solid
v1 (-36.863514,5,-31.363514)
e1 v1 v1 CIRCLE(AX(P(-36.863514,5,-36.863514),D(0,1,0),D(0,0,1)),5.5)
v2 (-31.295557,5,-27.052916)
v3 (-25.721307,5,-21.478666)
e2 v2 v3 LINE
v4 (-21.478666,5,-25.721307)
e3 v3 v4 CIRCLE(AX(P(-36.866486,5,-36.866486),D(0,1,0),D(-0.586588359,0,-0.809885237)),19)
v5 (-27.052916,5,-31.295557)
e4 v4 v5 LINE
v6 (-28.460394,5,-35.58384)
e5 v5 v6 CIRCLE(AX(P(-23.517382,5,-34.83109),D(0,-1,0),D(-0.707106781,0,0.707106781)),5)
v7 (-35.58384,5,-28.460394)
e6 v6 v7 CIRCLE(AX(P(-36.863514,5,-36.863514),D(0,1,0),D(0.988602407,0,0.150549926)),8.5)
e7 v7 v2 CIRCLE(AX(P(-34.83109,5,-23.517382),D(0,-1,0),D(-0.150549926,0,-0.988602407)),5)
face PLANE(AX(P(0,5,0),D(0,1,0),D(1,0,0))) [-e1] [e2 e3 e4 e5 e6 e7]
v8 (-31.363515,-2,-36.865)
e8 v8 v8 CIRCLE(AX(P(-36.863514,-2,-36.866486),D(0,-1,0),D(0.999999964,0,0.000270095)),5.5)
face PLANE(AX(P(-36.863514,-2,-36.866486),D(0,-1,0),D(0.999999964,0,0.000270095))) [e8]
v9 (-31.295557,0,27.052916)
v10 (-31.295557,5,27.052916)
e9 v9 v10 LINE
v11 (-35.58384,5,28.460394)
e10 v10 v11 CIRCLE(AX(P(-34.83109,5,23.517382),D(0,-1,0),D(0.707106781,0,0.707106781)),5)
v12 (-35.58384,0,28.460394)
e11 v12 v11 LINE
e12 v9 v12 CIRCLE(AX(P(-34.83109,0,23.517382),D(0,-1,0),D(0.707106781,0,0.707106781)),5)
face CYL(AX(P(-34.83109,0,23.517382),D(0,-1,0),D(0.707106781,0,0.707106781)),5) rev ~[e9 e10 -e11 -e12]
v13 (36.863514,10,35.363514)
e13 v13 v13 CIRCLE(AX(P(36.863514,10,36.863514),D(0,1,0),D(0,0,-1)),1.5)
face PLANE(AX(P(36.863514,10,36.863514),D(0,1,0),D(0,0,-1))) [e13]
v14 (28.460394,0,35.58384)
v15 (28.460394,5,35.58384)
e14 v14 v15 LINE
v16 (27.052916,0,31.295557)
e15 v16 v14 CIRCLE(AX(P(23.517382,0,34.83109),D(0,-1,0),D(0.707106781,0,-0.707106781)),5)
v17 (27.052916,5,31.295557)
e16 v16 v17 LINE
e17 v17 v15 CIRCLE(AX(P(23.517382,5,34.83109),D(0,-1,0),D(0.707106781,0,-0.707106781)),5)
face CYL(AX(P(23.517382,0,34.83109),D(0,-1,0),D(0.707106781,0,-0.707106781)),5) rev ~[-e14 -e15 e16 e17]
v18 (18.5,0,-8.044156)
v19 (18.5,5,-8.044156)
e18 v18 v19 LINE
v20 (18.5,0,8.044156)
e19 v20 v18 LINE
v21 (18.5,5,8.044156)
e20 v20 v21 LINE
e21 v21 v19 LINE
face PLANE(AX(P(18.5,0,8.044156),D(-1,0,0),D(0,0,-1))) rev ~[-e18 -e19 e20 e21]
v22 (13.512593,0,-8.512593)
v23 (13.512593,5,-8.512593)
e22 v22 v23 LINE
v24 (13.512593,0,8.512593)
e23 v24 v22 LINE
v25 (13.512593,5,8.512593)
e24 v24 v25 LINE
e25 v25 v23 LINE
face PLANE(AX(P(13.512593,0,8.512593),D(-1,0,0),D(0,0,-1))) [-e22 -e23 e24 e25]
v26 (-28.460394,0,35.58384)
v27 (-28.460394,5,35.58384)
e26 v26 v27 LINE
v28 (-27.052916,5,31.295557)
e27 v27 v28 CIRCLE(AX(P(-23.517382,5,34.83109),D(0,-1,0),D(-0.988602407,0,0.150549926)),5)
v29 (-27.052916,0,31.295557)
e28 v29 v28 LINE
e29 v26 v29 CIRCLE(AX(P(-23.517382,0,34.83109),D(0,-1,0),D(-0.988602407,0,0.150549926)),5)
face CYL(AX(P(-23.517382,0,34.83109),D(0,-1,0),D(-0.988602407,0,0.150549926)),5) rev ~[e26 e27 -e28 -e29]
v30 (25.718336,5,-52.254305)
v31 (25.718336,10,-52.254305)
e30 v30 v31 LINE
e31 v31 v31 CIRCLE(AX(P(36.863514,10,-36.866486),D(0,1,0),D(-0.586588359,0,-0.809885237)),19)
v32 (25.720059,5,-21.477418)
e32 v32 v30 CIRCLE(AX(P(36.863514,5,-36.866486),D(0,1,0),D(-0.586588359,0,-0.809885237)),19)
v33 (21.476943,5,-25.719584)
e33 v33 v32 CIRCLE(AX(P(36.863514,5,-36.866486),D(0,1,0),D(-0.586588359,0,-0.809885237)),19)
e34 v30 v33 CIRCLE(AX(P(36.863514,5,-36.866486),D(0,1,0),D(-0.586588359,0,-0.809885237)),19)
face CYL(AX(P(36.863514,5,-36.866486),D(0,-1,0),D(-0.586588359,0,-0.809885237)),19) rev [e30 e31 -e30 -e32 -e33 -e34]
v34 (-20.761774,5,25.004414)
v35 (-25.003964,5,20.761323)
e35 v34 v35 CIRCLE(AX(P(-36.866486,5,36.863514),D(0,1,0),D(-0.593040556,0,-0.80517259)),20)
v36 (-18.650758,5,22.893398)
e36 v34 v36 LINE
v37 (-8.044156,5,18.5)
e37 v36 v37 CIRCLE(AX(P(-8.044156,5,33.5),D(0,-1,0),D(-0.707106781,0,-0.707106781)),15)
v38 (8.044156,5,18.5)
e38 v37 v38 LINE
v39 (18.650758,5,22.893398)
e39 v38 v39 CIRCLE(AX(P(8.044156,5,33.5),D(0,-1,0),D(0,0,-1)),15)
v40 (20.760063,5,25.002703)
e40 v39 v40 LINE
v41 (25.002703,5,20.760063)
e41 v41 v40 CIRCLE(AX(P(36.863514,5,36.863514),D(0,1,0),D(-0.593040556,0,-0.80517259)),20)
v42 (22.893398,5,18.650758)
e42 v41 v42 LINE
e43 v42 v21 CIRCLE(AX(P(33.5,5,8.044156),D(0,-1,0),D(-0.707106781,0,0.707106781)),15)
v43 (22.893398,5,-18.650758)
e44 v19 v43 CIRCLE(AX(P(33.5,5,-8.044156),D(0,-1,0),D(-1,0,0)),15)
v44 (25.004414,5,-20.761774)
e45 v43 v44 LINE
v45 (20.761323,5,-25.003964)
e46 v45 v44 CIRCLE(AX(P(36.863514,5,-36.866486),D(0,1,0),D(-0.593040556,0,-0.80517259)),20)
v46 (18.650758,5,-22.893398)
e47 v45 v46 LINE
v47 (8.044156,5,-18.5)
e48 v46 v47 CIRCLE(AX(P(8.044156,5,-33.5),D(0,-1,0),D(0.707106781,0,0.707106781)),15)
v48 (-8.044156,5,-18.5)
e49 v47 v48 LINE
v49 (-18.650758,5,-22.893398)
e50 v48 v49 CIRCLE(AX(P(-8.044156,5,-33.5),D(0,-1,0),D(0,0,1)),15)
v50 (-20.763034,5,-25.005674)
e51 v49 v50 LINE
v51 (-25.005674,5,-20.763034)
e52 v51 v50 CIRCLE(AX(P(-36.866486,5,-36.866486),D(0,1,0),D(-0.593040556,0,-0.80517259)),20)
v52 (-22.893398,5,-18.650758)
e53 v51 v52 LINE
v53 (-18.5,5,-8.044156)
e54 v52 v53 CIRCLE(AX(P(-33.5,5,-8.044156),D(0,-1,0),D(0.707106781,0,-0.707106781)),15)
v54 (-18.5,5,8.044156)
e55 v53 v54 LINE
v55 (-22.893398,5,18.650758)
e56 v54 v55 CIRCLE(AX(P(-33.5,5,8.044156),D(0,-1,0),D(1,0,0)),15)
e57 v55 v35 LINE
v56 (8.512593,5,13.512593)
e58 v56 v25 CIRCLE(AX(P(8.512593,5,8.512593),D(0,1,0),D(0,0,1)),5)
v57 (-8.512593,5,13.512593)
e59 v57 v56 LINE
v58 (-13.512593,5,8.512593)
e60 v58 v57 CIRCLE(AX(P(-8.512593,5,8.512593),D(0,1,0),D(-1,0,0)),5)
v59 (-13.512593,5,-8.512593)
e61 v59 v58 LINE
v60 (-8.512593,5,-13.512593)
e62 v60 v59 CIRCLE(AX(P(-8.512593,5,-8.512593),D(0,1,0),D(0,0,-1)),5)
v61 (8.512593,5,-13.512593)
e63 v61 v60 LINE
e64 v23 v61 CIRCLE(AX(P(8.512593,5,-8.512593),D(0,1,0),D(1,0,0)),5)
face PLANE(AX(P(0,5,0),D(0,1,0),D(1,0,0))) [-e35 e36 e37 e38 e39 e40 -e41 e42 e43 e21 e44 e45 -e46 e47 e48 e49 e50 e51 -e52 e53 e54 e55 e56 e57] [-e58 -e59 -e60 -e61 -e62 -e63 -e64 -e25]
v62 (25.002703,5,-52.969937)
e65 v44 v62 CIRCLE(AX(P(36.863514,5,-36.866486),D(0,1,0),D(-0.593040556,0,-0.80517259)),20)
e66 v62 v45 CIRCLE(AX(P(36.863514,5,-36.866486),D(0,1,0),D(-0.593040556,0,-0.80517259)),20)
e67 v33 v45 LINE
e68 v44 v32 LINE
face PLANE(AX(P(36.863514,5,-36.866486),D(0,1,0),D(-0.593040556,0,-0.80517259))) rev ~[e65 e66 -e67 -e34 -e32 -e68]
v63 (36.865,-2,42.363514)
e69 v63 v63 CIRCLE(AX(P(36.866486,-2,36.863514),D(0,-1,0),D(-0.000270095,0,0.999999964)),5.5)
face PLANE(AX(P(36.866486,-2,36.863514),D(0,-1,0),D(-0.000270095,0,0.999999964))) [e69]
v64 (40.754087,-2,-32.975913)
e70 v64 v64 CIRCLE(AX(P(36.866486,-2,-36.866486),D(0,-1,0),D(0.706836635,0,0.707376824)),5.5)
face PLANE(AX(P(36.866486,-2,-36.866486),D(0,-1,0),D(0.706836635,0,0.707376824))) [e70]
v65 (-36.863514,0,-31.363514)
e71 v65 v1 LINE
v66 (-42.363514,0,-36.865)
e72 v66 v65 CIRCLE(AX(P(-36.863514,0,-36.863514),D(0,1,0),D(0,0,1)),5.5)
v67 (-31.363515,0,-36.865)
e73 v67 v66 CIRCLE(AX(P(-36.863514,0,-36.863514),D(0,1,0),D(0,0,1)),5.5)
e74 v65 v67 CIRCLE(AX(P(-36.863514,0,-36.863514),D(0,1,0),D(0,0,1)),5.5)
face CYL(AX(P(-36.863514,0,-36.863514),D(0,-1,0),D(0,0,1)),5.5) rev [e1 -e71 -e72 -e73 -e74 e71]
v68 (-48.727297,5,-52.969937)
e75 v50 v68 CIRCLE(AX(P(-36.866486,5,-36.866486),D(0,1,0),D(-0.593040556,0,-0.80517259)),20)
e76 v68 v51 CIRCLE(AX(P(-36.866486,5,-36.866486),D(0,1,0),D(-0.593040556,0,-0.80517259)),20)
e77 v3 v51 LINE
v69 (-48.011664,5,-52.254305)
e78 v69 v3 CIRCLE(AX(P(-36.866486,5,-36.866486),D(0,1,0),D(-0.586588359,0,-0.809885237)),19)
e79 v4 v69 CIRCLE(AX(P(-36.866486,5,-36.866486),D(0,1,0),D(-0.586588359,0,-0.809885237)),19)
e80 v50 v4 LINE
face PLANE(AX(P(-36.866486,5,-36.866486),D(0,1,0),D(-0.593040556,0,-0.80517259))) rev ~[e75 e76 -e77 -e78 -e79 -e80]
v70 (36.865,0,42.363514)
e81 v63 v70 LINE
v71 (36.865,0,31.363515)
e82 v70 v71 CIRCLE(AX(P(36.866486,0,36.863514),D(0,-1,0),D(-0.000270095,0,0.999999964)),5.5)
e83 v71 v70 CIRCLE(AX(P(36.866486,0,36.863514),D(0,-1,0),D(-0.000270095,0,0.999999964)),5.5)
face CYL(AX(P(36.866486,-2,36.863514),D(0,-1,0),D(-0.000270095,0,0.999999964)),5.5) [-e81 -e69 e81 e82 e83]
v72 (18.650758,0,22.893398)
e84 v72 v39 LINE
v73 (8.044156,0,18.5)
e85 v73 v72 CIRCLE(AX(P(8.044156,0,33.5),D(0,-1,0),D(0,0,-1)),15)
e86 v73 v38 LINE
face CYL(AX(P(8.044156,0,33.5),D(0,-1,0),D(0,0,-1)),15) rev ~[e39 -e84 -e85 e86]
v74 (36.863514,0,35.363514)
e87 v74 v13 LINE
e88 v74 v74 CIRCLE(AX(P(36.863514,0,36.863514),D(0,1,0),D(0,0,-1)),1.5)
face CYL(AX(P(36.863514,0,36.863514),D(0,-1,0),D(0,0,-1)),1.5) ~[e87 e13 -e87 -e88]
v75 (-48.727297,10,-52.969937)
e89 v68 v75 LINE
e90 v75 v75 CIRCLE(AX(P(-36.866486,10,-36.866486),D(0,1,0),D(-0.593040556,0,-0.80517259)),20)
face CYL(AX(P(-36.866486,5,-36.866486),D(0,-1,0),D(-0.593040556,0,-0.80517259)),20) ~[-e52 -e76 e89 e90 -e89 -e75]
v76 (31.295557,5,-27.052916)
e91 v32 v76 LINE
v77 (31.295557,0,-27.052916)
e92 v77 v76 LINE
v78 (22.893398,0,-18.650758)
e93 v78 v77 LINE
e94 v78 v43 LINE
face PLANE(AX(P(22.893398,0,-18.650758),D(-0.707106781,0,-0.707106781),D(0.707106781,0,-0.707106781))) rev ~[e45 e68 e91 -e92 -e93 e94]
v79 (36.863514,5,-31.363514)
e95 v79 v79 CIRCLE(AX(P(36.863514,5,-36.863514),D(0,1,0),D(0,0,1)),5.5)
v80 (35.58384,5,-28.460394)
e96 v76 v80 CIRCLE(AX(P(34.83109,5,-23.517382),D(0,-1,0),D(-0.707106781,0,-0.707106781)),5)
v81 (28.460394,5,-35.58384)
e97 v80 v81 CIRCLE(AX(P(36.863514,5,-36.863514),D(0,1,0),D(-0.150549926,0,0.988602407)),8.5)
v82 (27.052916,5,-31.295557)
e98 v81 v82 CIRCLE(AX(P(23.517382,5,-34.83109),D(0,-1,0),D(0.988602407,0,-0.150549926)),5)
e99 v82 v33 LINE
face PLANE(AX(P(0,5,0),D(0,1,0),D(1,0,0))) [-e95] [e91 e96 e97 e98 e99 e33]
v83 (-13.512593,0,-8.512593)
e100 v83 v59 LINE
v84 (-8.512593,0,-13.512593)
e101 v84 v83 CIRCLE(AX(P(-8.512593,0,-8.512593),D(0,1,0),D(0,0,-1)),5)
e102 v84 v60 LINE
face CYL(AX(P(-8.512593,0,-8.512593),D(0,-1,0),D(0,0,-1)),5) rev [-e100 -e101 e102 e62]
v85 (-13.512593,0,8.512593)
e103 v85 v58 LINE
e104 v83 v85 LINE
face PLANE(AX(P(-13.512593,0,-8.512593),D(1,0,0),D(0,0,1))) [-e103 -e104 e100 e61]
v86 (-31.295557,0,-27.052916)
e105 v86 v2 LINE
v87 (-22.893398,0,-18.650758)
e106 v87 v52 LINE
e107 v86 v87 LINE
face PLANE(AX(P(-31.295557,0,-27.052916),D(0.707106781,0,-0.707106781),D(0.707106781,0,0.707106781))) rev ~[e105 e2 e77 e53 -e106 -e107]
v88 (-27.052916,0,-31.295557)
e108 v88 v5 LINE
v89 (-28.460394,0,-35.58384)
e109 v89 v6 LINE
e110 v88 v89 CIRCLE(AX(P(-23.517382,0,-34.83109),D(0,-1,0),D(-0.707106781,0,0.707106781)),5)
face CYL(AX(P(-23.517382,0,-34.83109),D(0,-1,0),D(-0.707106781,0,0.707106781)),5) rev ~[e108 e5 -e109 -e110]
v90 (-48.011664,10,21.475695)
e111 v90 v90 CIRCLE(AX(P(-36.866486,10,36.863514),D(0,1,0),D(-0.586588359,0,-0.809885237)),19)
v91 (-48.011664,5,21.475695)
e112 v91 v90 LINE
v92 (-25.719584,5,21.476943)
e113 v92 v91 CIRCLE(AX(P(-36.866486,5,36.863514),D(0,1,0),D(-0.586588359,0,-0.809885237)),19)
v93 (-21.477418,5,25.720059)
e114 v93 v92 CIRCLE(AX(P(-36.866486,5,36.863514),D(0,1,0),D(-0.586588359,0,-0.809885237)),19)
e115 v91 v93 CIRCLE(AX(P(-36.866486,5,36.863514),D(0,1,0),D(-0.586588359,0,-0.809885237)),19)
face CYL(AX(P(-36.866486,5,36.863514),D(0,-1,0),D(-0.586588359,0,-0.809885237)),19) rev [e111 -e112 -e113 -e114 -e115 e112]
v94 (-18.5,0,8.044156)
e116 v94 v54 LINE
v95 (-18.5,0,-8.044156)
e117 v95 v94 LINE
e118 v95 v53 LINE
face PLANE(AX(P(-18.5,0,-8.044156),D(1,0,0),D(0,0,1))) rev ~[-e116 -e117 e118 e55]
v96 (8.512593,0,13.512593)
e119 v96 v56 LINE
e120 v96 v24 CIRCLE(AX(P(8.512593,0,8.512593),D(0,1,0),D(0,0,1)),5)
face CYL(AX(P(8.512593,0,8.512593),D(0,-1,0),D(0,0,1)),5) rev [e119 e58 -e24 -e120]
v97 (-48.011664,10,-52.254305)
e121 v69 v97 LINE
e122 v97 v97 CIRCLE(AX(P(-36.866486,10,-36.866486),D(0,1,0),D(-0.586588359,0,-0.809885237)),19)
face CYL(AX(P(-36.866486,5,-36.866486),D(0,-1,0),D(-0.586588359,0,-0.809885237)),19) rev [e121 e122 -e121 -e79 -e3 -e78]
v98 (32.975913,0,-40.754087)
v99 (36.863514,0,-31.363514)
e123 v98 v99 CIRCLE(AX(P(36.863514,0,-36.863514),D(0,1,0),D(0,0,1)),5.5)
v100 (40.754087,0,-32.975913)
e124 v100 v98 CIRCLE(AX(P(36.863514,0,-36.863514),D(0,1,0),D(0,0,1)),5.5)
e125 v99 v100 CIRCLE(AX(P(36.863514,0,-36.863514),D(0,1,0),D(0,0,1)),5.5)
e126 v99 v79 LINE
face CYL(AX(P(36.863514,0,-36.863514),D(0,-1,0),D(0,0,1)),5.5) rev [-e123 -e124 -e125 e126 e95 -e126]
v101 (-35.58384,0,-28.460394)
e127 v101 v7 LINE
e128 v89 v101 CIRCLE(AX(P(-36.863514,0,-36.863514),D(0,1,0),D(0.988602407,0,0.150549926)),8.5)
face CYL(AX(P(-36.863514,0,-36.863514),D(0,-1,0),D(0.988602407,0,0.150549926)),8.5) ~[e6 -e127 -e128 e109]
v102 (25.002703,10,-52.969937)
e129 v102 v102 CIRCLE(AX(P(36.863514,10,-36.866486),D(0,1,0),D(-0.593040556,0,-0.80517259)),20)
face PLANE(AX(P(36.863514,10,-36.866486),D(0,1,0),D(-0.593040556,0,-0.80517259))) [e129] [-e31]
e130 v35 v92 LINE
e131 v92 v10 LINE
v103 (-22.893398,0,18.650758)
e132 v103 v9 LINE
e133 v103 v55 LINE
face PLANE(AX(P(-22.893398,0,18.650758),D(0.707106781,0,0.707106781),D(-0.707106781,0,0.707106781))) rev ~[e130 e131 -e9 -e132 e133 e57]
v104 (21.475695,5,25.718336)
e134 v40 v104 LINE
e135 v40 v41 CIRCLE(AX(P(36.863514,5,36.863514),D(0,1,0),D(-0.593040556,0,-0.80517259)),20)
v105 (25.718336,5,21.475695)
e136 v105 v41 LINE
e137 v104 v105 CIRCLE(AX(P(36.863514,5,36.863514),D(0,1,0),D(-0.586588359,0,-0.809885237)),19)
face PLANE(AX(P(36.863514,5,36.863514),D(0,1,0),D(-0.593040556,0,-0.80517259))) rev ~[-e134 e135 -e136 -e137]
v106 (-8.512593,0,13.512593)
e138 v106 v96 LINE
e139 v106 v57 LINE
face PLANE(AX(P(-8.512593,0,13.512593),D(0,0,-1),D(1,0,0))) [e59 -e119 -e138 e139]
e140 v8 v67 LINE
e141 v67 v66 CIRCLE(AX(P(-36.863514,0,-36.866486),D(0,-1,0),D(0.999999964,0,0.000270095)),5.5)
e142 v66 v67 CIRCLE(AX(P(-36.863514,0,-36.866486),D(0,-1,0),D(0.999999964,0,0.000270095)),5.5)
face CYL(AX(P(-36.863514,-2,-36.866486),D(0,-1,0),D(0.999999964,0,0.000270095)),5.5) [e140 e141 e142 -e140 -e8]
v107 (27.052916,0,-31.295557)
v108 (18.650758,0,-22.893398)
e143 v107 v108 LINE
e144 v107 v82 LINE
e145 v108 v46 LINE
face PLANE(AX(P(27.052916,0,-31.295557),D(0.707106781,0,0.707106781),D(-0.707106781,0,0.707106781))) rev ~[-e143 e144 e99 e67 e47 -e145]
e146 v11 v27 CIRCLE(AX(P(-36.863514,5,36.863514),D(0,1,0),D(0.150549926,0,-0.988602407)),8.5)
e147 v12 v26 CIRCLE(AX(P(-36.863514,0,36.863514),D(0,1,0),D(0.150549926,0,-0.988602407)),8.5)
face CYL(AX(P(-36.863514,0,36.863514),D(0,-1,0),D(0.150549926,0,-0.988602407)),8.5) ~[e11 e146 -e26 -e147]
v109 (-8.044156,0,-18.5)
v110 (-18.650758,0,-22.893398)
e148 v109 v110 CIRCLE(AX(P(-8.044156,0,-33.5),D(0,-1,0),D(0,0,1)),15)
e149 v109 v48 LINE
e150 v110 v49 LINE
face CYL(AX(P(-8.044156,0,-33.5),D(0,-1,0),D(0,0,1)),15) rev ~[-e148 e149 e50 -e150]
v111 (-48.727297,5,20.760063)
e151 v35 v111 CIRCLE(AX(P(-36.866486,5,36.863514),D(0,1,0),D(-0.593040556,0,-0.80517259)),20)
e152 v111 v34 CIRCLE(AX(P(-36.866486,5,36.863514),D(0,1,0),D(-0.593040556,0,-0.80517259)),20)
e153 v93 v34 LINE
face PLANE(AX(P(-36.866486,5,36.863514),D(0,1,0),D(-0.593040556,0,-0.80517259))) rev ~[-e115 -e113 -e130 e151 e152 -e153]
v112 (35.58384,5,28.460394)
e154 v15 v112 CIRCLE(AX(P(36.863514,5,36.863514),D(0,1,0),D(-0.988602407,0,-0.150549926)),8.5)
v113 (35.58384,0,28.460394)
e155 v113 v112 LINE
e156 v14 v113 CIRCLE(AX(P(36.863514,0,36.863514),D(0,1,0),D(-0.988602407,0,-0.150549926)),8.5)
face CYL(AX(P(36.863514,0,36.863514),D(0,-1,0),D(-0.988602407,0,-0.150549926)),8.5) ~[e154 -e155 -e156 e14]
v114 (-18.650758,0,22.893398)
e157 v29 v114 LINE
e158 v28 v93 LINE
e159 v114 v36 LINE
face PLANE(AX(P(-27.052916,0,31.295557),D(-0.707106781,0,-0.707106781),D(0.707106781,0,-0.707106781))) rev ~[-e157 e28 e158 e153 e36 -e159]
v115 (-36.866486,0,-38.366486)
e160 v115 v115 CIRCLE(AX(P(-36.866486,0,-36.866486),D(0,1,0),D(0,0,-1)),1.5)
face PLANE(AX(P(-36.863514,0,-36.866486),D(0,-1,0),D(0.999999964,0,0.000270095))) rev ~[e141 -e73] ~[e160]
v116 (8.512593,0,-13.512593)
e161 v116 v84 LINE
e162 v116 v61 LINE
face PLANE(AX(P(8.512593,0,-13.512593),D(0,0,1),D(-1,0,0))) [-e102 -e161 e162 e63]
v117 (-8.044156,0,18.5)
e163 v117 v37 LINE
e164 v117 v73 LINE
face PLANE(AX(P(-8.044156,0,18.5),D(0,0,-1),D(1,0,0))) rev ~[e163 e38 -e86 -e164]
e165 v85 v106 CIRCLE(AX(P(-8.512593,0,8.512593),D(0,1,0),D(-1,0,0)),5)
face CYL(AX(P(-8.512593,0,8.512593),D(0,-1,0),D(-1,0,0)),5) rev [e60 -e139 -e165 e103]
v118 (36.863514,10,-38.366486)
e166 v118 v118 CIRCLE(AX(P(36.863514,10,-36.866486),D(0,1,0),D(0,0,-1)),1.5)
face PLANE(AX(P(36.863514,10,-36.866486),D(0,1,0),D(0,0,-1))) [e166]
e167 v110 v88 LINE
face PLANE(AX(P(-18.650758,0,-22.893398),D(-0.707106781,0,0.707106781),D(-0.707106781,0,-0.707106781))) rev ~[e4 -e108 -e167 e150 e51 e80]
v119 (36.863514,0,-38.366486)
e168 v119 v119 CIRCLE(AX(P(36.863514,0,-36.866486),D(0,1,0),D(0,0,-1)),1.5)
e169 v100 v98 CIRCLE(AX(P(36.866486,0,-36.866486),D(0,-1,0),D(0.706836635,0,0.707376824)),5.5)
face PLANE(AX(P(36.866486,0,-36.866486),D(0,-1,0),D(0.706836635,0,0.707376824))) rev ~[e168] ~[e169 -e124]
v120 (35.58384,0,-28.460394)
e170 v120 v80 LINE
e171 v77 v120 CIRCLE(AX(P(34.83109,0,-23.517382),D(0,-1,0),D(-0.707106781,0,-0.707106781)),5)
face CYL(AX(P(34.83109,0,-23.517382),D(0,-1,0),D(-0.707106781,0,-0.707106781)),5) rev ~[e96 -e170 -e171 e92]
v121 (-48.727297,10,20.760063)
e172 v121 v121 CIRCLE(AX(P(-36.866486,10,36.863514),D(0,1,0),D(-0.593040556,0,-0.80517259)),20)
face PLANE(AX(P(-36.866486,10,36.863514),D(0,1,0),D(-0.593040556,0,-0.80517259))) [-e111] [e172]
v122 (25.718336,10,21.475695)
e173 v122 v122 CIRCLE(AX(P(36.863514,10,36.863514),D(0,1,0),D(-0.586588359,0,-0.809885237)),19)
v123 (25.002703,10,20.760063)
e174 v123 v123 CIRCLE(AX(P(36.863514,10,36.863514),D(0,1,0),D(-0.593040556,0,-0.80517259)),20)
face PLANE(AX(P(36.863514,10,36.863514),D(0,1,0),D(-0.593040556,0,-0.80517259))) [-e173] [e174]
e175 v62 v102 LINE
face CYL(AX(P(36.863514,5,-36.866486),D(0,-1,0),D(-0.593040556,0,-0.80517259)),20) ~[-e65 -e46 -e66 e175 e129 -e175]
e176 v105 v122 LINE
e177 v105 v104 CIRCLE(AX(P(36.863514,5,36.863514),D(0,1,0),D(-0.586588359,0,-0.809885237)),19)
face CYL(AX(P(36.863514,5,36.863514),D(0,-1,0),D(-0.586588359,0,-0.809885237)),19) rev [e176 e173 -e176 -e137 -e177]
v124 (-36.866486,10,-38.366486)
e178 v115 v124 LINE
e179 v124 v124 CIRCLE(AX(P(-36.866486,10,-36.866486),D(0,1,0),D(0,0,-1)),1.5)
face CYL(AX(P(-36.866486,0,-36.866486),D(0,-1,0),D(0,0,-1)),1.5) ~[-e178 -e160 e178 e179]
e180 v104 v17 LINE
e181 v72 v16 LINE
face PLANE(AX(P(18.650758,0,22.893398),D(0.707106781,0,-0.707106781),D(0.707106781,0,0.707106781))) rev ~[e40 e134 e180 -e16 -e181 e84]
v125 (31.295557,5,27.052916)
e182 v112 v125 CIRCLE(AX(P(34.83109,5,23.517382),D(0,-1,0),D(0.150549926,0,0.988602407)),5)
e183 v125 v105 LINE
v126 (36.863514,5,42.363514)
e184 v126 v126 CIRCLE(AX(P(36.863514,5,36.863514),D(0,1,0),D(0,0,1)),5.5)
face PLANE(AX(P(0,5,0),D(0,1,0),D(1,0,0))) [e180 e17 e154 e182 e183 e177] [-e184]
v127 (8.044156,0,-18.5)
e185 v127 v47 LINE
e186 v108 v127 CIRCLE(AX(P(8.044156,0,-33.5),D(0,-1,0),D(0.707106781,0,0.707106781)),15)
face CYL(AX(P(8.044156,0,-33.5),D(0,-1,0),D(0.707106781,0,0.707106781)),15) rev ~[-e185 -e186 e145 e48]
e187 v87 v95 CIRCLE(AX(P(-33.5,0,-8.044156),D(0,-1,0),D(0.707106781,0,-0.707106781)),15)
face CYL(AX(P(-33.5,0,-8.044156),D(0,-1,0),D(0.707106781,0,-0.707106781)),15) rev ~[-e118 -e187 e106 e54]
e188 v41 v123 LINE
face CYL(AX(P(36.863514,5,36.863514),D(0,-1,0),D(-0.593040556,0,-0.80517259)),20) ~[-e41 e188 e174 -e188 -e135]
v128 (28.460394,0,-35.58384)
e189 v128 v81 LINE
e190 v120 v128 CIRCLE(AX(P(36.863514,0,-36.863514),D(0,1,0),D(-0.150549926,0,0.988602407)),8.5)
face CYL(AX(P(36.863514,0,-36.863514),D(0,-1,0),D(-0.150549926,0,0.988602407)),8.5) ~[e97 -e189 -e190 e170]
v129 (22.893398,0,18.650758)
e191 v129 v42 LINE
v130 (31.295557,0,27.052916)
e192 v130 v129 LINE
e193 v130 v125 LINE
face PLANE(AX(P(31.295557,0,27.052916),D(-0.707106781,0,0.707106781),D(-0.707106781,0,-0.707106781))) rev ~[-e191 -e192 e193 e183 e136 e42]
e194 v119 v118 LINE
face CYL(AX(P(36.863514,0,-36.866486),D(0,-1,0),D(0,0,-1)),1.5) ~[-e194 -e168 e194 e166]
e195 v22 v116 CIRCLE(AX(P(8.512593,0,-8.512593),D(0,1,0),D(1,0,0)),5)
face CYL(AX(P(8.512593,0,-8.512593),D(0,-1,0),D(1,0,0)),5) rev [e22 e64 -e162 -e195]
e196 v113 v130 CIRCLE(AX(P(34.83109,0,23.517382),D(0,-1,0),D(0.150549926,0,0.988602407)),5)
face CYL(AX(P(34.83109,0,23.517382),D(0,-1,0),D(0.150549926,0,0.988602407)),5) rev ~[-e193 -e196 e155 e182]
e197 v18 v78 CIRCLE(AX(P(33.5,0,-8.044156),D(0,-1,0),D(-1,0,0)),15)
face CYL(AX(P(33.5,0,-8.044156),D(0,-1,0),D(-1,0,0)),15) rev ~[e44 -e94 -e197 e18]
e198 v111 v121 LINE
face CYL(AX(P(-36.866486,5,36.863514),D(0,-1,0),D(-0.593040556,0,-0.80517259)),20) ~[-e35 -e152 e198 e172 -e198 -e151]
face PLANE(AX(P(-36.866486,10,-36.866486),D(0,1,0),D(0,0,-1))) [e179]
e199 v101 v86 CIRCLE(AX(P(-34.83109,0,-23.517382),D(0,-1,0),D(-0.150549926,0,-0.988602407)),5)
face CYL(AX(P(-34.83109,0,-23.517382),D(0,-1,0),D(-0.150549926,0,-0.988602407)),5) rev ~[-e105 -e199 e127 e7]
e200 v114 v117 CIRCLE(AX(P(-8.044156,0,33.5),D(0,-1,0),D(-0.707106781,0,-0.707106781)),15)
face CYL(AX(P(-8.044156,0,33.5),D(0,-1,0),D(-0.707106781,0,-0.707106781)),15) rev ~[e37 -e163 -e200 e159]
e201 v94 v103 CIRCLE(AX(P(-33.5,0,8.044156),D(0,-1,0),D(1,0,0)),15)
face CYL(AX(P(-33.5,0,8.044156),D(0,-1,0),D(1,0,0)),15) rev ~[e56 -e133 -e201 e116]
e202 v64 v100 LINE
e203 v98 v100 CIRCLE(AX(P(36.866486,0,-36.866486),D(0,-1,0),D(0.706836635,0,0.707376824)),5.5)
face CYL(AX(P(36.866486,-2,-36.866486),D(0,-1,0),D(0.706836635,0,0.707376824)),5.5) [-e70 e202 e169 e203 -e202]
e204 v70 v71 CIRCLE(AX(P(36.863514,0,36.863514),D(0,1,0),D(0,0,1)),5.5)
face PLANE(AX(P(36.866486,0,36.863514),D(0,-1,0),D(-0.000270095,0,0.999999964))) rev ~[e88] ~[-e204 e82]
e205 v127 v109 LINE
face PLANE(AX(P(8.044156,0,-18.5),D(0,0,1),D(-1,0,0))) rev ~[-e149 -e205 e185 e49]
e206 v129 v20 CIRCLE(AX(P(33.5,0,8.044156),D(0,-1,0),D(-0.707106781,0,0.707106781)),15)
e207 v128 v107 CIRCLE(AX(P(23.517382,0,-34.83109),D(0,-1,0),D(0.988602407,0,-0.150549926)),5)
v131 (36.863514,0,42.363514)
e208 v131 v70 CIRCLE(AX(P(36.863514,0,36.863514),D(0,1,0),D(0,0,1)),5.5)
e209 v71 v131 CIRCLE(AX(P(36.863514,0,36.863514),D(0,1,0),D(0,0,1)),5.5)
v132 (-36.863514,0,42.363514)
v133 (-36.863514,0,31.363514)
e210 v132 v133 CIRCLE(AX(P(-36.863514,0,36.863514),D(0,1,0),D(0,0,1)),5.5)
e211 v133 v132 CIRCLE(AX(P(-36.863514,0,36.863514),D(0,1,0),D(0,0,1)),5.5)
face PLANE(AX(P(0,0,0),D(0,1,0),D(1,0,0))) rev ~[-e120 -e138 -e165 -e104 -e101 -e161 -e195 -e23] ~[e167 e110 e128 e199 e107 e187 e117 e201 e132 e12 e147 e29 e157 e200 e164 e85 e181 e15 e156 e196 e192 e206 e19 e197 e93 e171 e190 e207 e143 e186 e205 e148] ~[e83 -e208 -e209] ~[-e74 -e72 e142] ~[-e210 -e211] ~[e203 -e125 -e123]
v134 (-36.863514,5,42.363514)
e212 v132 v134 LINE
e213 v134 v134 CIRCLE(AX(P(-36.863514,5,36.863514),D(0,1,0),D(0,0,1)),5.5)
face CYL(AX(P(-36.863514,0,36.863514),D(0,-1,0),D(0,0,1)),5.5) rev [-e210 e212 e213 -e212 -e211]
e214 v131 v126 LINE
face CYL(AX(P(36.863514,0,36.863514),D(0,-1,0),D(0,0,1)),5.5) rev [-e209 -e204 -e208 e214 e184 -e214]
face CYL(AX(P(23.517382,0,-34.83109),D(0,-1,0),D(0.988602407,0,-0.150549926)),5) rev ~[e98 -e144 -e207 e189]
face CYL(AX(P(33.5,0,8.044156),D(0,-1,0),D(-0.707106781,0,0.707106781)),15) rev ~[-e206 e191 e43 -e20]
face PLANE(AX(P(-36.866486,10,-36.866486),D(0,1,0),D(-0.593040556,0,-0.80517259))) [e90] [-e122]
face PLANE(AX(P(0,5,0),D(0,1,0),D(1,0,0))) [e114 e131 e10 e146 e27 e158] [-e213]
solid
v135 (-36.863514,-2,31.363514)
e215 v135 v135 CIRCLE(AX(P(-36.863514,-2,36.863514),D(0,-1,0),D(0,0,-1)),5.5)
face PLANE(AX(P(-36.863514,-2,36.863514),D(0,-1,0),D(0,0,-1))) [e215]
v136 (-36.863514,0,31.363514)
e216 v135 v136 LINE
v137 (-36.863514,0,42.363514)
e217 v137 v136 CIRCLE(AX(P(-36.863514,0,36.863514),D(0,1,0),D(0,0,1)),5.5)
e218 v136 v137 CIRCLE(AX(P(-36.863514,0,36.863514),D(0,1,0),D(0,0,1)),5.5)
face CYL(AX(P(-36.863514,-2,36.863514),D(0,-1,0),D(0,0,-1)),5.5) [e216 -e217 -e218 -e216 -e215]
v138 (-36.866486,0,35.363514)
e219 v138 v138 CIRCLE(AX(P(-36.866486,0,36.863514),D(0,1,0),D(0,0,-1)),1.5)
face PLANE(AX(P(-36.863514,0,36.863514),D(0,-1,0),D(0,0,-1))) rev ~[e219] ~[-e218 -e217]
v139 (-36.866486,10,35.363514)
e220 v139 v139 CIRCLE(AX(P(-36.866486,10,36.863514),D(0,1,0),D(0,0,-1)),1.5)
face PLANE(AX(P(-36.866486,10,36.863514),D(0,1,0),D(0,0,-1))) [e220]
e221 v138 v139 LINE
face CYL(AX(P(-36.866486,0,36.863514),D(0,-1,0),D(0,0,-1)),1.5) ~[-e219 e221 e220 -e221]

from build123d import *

# Parameters (mm, degrees)
SKETCH1_R            = 5.5
BOSS_EXTRUDE2_DEPTH  = 5
SKETCH3_R            = 20
SKETCH3_R_2          = 19
BOSS_EXTRUDE4_DEPTH  = 5
LPATTERN1_COUNT      = 2
LPATTERN1_PITCH      = 73.73
LPATTERN1_COUNT_DIR2 = 2
LPATTERN1_PITCH_DIR2 = 73.73
BOSS_EXTRUDE5_START  = 2
SKETCH4_R            = 5.5
BOSS_EXTRUDE5_DEPTH  = 2
SKETCH5_R            = 1.5
BOSS_EXTRUDE6_DEPTH  = 10
LPATTERN2_COUNT      = 2
LPATTERN2_PITCH      = 73.73
LPATTERN2_COUNT_DIR2 = 2
LPATTERN2_PITCH_DIR2 = 73.73


with BuildPart() as part:
    # Sketch1 → Boss-Extrude2 (new body)
    with BuildSketch(Plane(origin=(0, 0, 0), x_dir=(1, 0, 0), z_dir=(0, 1, 0))):
        with BuildLine():
            Line((8.044155877, 18.5), (-8.044155877, 18.5))
            ThreePointArc((-8.044155877, 18.5), (-13.784407363, 19.641807012), (-18.650757595, 22.893398282))
            Line((-18.650757595, 22.893398282), (-27.052915884, 31.295556571))
            ThreePointArc((-27.052915884, 31.295556571), (-28.268042905, 33.271853242), (-28.460394015, 35.583840107))
            ThreePointArc((-28.460394015, 35.583840107), (-42.873922117, 42.873922117), (-35.583840107, 28.460394015))
            ThreePointArc((-35.583840107, 28.460394015), (-33.271853242, 28.268042905), (-31.295556571, 27.052915884))
            Line((-31.295556571, 27.052915884), (-22.893398282, 18.650757595))
            ThreePointArc((-22.893398282, 18.650757595), (-19.641807012, 13.784407363), (-18.5, 8.044155877))
            Line((-18.5, 8.044155877), (-18.5, -8.044155877))
            ThreePointArc((-18.5, -8.044155877), (-19.641807012, -13.784407363), (-22.893398282, -18.650757595))
            Line((-22.893398282, -18.650757595), (-31.295556571, -27.052915884))
            ThreePointArc((-31.295556571, -27.052915884), (-33.271853242, -28.268042905), (-35.583840107, -28.460394015))
            ThreePointArc((-35.583840107, -28.460394015), (-42.873922117, -42.873922117), (-28.460394015, -35.583840107))
            ThreePointArc((-28.460394015, -35.583840107), (-28.268042905, -33.271853242), (-27.052915884, -31.295556571))
            Line((-27.052915884, -31.295556571), (-18.650757595, -22.893398282))
            ThreePointArc((-18.650757595, -22.893398282), (-13.784407363, -19.641807012), (-8.044155877, -18.5))
            Line((-8.044155877, -18.5), (8.044155877, -18.5))
            ThreePointArc((8.044155877, -18.5), (13.784407363, -19.641807012), (18.650757595, -22.893398282))
            Line((18.650757595, -22.893398282), (27.052915884, -31.295556571))
            ThreePointArc((27.052915884, -31.295556571), (28.268042905, -33.271853242), (28.460394015, -35.583840107))
            ThreePointArc((28.460394015, -35.583840107), (42.873922117, -42.873922117), (35.583840107, -28.460394015))
            ThreePointArc((35.583840107, -28.460394015), (33.271853242, -28.268042905), (31.295556571, -27.052915884))
            Line((31.295556571, -27.052915884), (22.893398282, -18.650757595))
            ThreePointArc((22.893398282, -18.650757595), (19.641807012, -13.784407363), (18.5, -8.044155877))
            Line((18.5, -8.044155877), (18.5, 8.044155877))
            ThreePointArc((18.5, 8.044155877), (19.641807012, 13.784407363), (22.893398282, 18.650757595))
            Line((22.893398282, 18.650757595), (31.295556571, 27.052915884))
            ThreePointArc((31.295556571, 27.052915884), (33.271853242, 28.268042905), (35.583840107, 28.460394015))
            ThreePointArc((35.583840107, 28.460394015), (42.873922117, 42.873922117), (28.460394015, 35.583840107))
            ThreePointArc((28.460394015, 35.583840107), (28.268042905, 33.271853242), (27.052915884, 31.295556571))
            Line((27.052915884, 31.295556571), (18.650757595, 22.893398282))
            ThreePointArc((18.650757595, 22.893398282), (13.784407363, 19.641807012), (8.044155877, 18.5))
        make_face()
        with Locations(Location((36.863514477, 36.863514477, 0), (0, 0, 270))):
            Circle(SKETCH1_R, mode=Mode.SUBTRACT)
        with Locations(Location((36.863514477, -36.863514477, 0), (0, 0, 270))):
            Circle(SKETCH1_R, mode=Mode.SUBTRACT)
        with Locations(Location((-36.863514477, -36.863514477, 0), (0, 0, 270))):
            Circle(SKETCH1_R, mode=Mode.SUBTRACT)
        with Locations(Location((-36.863514477, 36.863514477, 0), (0, 0, 270))):
            Circle(SKETCH1_R, mode=Mode.SUBTRACT)
        with BuildLine():
            Line((8.512593284, 13.512593284), (-8.512593284, 13.512593284))
            ThreePointArc((-8.512593284, 13.512593284), (-12.04812719, 12.04812719), (-13.512593284, 8.512593284))
            Line((-13.512593284, 8.512593284), (-13.512593284, -8.512593284))
            ThreePointArc((-13.512593284, -8.512593284), (-12.04812719, -12.04812719), (-8.512593284, -13.512593284))
            Line((-8.512593284, -13.512593284), (8.512593284, -13.512593284))
            ThreePointArc((8.512593284, -13.512593284), (12.04812719, -12.04812719), (13.512593284, -8.512593284))
            Line((13.512593284, -8.512593284), (13.512593284, 8.512593284))
            ThreePointArc((13.512593284, 8.512593284), (12.04812719, 12.04812719), (8.512593284, 13.512593284))
        make_face(mode=Mode.SUBTRACT)
    extrude(amount=BOSS_EXTRUDE2_DEPTH)

    # Sketch3 → Boss-Extrude4 (add)
    with BuildSketch(Plane(origin=(0, 5, 0), x_dir=(1, 0, 0), z_dir=(0, 1, 0))):
        with Locations(Location((36.863514477, -36.863514477, 0), (0, 0, 126.373073441))):
            Circle(SKETCH3_R)
        with Locations(Location((36.863514477, -36.863514477, 0), (0, 0, 125.915279713))):
            Circle(SKETCH3_R_2, mode=Mode.SUBTRACT)
    boss_extrude4 = extrude(amount=BOSS_EXTRUDE4_DEPTH)

    # LPattern1: Boss-Extrude4 2 × 2
    with Locations(*[(-j * LPATTERN1_PITCH_DIR2, 0, -i * LPATTERN1_PITCH) for i in range(LPATTERN1_COUNT) for j in range(LPATTERN1_COUNT_DIR2) if (i, j) != (0, 0)]):
        add(boss_extrude4)

    # Sketch4 → Boss-Extrude5 (add)
    with BuildSketch(Plane.XZ.offset(BOSS_EXTRUDE5_START)):
        with Locations(Location((-36.863514477, 36.863514477, 0), (0, 0, 270))):
            Circle(SKETCH4_R)
        with Locations(Location((36.866485523, 36.863514477, 0), (0, 0, 90.015475294))):
            Circle(SKETCH4_R)
        with Locations(Location((36.866485523, -36.866485523, 0), (0, 0, 45.021885374))):
            Circle(SKETCH4_R)
        with Locations(Location((-36.863514477, -36.866485523, 0), (0, 0, 0.015475288))):
            Circle(SKETCH4_R)
    extrude(amount=-BOSS_EXTRUDE5_DEPTH)


with BuildPart() as boss_extrude5_piece_1:
    # of the separate pieces the step leaves, piece 1, a body of its own (boss_extrude5_pieces)
    add(part.part.solids().sort_by_distance((28.460394015, 0, -35.583840107))[0])

    # Sketch5 → Boss-Extrude6 (add)
    with BuildSketch(Plane(origin=(0, 0, 0), x_dir=(1, 0, 0), z_dir=(0, 1, 0))):
        with Locations(Location((36.863514477, -36.863514477, 0), (0, 0, 90))):
            Circle(SKETCH5_R)
    boss_extrude6 = extrude(amount=BOSS_EXTRUDE6_DEPTH)



with BuildPart() as boss_extrude5_piece_2:
    # of the separate pieces the step leaves, piece 2, a body of its own (boss_extrude5_pieces)
    add(part.part.solids().sort_by_distance((-36.863514477, -2, 31.363514477))[0])


with BuildPart() as boss_extrude5_piece_1_1:
    add(boss_extrude5_piece_1.part)

    add(boss_extrude5_piece_2.part)  # LPattern2 merges Boss-Extrude5 piece 2
    # LPattern2: Boss-Extrude6 2 × 2
    with Locations(*[(-i * LPATTERN2_PITCH, 0, -j * LPATTERN2_PITCH_DIR2) for i in range(LPATTERN2_COUNT) for j in range(LPATTERN2_COUNT_DIR2) if (i, j) != (0, 0)]):
        add(boss_extrude6)


solid = boss_extrude5_piece_1_1.part
